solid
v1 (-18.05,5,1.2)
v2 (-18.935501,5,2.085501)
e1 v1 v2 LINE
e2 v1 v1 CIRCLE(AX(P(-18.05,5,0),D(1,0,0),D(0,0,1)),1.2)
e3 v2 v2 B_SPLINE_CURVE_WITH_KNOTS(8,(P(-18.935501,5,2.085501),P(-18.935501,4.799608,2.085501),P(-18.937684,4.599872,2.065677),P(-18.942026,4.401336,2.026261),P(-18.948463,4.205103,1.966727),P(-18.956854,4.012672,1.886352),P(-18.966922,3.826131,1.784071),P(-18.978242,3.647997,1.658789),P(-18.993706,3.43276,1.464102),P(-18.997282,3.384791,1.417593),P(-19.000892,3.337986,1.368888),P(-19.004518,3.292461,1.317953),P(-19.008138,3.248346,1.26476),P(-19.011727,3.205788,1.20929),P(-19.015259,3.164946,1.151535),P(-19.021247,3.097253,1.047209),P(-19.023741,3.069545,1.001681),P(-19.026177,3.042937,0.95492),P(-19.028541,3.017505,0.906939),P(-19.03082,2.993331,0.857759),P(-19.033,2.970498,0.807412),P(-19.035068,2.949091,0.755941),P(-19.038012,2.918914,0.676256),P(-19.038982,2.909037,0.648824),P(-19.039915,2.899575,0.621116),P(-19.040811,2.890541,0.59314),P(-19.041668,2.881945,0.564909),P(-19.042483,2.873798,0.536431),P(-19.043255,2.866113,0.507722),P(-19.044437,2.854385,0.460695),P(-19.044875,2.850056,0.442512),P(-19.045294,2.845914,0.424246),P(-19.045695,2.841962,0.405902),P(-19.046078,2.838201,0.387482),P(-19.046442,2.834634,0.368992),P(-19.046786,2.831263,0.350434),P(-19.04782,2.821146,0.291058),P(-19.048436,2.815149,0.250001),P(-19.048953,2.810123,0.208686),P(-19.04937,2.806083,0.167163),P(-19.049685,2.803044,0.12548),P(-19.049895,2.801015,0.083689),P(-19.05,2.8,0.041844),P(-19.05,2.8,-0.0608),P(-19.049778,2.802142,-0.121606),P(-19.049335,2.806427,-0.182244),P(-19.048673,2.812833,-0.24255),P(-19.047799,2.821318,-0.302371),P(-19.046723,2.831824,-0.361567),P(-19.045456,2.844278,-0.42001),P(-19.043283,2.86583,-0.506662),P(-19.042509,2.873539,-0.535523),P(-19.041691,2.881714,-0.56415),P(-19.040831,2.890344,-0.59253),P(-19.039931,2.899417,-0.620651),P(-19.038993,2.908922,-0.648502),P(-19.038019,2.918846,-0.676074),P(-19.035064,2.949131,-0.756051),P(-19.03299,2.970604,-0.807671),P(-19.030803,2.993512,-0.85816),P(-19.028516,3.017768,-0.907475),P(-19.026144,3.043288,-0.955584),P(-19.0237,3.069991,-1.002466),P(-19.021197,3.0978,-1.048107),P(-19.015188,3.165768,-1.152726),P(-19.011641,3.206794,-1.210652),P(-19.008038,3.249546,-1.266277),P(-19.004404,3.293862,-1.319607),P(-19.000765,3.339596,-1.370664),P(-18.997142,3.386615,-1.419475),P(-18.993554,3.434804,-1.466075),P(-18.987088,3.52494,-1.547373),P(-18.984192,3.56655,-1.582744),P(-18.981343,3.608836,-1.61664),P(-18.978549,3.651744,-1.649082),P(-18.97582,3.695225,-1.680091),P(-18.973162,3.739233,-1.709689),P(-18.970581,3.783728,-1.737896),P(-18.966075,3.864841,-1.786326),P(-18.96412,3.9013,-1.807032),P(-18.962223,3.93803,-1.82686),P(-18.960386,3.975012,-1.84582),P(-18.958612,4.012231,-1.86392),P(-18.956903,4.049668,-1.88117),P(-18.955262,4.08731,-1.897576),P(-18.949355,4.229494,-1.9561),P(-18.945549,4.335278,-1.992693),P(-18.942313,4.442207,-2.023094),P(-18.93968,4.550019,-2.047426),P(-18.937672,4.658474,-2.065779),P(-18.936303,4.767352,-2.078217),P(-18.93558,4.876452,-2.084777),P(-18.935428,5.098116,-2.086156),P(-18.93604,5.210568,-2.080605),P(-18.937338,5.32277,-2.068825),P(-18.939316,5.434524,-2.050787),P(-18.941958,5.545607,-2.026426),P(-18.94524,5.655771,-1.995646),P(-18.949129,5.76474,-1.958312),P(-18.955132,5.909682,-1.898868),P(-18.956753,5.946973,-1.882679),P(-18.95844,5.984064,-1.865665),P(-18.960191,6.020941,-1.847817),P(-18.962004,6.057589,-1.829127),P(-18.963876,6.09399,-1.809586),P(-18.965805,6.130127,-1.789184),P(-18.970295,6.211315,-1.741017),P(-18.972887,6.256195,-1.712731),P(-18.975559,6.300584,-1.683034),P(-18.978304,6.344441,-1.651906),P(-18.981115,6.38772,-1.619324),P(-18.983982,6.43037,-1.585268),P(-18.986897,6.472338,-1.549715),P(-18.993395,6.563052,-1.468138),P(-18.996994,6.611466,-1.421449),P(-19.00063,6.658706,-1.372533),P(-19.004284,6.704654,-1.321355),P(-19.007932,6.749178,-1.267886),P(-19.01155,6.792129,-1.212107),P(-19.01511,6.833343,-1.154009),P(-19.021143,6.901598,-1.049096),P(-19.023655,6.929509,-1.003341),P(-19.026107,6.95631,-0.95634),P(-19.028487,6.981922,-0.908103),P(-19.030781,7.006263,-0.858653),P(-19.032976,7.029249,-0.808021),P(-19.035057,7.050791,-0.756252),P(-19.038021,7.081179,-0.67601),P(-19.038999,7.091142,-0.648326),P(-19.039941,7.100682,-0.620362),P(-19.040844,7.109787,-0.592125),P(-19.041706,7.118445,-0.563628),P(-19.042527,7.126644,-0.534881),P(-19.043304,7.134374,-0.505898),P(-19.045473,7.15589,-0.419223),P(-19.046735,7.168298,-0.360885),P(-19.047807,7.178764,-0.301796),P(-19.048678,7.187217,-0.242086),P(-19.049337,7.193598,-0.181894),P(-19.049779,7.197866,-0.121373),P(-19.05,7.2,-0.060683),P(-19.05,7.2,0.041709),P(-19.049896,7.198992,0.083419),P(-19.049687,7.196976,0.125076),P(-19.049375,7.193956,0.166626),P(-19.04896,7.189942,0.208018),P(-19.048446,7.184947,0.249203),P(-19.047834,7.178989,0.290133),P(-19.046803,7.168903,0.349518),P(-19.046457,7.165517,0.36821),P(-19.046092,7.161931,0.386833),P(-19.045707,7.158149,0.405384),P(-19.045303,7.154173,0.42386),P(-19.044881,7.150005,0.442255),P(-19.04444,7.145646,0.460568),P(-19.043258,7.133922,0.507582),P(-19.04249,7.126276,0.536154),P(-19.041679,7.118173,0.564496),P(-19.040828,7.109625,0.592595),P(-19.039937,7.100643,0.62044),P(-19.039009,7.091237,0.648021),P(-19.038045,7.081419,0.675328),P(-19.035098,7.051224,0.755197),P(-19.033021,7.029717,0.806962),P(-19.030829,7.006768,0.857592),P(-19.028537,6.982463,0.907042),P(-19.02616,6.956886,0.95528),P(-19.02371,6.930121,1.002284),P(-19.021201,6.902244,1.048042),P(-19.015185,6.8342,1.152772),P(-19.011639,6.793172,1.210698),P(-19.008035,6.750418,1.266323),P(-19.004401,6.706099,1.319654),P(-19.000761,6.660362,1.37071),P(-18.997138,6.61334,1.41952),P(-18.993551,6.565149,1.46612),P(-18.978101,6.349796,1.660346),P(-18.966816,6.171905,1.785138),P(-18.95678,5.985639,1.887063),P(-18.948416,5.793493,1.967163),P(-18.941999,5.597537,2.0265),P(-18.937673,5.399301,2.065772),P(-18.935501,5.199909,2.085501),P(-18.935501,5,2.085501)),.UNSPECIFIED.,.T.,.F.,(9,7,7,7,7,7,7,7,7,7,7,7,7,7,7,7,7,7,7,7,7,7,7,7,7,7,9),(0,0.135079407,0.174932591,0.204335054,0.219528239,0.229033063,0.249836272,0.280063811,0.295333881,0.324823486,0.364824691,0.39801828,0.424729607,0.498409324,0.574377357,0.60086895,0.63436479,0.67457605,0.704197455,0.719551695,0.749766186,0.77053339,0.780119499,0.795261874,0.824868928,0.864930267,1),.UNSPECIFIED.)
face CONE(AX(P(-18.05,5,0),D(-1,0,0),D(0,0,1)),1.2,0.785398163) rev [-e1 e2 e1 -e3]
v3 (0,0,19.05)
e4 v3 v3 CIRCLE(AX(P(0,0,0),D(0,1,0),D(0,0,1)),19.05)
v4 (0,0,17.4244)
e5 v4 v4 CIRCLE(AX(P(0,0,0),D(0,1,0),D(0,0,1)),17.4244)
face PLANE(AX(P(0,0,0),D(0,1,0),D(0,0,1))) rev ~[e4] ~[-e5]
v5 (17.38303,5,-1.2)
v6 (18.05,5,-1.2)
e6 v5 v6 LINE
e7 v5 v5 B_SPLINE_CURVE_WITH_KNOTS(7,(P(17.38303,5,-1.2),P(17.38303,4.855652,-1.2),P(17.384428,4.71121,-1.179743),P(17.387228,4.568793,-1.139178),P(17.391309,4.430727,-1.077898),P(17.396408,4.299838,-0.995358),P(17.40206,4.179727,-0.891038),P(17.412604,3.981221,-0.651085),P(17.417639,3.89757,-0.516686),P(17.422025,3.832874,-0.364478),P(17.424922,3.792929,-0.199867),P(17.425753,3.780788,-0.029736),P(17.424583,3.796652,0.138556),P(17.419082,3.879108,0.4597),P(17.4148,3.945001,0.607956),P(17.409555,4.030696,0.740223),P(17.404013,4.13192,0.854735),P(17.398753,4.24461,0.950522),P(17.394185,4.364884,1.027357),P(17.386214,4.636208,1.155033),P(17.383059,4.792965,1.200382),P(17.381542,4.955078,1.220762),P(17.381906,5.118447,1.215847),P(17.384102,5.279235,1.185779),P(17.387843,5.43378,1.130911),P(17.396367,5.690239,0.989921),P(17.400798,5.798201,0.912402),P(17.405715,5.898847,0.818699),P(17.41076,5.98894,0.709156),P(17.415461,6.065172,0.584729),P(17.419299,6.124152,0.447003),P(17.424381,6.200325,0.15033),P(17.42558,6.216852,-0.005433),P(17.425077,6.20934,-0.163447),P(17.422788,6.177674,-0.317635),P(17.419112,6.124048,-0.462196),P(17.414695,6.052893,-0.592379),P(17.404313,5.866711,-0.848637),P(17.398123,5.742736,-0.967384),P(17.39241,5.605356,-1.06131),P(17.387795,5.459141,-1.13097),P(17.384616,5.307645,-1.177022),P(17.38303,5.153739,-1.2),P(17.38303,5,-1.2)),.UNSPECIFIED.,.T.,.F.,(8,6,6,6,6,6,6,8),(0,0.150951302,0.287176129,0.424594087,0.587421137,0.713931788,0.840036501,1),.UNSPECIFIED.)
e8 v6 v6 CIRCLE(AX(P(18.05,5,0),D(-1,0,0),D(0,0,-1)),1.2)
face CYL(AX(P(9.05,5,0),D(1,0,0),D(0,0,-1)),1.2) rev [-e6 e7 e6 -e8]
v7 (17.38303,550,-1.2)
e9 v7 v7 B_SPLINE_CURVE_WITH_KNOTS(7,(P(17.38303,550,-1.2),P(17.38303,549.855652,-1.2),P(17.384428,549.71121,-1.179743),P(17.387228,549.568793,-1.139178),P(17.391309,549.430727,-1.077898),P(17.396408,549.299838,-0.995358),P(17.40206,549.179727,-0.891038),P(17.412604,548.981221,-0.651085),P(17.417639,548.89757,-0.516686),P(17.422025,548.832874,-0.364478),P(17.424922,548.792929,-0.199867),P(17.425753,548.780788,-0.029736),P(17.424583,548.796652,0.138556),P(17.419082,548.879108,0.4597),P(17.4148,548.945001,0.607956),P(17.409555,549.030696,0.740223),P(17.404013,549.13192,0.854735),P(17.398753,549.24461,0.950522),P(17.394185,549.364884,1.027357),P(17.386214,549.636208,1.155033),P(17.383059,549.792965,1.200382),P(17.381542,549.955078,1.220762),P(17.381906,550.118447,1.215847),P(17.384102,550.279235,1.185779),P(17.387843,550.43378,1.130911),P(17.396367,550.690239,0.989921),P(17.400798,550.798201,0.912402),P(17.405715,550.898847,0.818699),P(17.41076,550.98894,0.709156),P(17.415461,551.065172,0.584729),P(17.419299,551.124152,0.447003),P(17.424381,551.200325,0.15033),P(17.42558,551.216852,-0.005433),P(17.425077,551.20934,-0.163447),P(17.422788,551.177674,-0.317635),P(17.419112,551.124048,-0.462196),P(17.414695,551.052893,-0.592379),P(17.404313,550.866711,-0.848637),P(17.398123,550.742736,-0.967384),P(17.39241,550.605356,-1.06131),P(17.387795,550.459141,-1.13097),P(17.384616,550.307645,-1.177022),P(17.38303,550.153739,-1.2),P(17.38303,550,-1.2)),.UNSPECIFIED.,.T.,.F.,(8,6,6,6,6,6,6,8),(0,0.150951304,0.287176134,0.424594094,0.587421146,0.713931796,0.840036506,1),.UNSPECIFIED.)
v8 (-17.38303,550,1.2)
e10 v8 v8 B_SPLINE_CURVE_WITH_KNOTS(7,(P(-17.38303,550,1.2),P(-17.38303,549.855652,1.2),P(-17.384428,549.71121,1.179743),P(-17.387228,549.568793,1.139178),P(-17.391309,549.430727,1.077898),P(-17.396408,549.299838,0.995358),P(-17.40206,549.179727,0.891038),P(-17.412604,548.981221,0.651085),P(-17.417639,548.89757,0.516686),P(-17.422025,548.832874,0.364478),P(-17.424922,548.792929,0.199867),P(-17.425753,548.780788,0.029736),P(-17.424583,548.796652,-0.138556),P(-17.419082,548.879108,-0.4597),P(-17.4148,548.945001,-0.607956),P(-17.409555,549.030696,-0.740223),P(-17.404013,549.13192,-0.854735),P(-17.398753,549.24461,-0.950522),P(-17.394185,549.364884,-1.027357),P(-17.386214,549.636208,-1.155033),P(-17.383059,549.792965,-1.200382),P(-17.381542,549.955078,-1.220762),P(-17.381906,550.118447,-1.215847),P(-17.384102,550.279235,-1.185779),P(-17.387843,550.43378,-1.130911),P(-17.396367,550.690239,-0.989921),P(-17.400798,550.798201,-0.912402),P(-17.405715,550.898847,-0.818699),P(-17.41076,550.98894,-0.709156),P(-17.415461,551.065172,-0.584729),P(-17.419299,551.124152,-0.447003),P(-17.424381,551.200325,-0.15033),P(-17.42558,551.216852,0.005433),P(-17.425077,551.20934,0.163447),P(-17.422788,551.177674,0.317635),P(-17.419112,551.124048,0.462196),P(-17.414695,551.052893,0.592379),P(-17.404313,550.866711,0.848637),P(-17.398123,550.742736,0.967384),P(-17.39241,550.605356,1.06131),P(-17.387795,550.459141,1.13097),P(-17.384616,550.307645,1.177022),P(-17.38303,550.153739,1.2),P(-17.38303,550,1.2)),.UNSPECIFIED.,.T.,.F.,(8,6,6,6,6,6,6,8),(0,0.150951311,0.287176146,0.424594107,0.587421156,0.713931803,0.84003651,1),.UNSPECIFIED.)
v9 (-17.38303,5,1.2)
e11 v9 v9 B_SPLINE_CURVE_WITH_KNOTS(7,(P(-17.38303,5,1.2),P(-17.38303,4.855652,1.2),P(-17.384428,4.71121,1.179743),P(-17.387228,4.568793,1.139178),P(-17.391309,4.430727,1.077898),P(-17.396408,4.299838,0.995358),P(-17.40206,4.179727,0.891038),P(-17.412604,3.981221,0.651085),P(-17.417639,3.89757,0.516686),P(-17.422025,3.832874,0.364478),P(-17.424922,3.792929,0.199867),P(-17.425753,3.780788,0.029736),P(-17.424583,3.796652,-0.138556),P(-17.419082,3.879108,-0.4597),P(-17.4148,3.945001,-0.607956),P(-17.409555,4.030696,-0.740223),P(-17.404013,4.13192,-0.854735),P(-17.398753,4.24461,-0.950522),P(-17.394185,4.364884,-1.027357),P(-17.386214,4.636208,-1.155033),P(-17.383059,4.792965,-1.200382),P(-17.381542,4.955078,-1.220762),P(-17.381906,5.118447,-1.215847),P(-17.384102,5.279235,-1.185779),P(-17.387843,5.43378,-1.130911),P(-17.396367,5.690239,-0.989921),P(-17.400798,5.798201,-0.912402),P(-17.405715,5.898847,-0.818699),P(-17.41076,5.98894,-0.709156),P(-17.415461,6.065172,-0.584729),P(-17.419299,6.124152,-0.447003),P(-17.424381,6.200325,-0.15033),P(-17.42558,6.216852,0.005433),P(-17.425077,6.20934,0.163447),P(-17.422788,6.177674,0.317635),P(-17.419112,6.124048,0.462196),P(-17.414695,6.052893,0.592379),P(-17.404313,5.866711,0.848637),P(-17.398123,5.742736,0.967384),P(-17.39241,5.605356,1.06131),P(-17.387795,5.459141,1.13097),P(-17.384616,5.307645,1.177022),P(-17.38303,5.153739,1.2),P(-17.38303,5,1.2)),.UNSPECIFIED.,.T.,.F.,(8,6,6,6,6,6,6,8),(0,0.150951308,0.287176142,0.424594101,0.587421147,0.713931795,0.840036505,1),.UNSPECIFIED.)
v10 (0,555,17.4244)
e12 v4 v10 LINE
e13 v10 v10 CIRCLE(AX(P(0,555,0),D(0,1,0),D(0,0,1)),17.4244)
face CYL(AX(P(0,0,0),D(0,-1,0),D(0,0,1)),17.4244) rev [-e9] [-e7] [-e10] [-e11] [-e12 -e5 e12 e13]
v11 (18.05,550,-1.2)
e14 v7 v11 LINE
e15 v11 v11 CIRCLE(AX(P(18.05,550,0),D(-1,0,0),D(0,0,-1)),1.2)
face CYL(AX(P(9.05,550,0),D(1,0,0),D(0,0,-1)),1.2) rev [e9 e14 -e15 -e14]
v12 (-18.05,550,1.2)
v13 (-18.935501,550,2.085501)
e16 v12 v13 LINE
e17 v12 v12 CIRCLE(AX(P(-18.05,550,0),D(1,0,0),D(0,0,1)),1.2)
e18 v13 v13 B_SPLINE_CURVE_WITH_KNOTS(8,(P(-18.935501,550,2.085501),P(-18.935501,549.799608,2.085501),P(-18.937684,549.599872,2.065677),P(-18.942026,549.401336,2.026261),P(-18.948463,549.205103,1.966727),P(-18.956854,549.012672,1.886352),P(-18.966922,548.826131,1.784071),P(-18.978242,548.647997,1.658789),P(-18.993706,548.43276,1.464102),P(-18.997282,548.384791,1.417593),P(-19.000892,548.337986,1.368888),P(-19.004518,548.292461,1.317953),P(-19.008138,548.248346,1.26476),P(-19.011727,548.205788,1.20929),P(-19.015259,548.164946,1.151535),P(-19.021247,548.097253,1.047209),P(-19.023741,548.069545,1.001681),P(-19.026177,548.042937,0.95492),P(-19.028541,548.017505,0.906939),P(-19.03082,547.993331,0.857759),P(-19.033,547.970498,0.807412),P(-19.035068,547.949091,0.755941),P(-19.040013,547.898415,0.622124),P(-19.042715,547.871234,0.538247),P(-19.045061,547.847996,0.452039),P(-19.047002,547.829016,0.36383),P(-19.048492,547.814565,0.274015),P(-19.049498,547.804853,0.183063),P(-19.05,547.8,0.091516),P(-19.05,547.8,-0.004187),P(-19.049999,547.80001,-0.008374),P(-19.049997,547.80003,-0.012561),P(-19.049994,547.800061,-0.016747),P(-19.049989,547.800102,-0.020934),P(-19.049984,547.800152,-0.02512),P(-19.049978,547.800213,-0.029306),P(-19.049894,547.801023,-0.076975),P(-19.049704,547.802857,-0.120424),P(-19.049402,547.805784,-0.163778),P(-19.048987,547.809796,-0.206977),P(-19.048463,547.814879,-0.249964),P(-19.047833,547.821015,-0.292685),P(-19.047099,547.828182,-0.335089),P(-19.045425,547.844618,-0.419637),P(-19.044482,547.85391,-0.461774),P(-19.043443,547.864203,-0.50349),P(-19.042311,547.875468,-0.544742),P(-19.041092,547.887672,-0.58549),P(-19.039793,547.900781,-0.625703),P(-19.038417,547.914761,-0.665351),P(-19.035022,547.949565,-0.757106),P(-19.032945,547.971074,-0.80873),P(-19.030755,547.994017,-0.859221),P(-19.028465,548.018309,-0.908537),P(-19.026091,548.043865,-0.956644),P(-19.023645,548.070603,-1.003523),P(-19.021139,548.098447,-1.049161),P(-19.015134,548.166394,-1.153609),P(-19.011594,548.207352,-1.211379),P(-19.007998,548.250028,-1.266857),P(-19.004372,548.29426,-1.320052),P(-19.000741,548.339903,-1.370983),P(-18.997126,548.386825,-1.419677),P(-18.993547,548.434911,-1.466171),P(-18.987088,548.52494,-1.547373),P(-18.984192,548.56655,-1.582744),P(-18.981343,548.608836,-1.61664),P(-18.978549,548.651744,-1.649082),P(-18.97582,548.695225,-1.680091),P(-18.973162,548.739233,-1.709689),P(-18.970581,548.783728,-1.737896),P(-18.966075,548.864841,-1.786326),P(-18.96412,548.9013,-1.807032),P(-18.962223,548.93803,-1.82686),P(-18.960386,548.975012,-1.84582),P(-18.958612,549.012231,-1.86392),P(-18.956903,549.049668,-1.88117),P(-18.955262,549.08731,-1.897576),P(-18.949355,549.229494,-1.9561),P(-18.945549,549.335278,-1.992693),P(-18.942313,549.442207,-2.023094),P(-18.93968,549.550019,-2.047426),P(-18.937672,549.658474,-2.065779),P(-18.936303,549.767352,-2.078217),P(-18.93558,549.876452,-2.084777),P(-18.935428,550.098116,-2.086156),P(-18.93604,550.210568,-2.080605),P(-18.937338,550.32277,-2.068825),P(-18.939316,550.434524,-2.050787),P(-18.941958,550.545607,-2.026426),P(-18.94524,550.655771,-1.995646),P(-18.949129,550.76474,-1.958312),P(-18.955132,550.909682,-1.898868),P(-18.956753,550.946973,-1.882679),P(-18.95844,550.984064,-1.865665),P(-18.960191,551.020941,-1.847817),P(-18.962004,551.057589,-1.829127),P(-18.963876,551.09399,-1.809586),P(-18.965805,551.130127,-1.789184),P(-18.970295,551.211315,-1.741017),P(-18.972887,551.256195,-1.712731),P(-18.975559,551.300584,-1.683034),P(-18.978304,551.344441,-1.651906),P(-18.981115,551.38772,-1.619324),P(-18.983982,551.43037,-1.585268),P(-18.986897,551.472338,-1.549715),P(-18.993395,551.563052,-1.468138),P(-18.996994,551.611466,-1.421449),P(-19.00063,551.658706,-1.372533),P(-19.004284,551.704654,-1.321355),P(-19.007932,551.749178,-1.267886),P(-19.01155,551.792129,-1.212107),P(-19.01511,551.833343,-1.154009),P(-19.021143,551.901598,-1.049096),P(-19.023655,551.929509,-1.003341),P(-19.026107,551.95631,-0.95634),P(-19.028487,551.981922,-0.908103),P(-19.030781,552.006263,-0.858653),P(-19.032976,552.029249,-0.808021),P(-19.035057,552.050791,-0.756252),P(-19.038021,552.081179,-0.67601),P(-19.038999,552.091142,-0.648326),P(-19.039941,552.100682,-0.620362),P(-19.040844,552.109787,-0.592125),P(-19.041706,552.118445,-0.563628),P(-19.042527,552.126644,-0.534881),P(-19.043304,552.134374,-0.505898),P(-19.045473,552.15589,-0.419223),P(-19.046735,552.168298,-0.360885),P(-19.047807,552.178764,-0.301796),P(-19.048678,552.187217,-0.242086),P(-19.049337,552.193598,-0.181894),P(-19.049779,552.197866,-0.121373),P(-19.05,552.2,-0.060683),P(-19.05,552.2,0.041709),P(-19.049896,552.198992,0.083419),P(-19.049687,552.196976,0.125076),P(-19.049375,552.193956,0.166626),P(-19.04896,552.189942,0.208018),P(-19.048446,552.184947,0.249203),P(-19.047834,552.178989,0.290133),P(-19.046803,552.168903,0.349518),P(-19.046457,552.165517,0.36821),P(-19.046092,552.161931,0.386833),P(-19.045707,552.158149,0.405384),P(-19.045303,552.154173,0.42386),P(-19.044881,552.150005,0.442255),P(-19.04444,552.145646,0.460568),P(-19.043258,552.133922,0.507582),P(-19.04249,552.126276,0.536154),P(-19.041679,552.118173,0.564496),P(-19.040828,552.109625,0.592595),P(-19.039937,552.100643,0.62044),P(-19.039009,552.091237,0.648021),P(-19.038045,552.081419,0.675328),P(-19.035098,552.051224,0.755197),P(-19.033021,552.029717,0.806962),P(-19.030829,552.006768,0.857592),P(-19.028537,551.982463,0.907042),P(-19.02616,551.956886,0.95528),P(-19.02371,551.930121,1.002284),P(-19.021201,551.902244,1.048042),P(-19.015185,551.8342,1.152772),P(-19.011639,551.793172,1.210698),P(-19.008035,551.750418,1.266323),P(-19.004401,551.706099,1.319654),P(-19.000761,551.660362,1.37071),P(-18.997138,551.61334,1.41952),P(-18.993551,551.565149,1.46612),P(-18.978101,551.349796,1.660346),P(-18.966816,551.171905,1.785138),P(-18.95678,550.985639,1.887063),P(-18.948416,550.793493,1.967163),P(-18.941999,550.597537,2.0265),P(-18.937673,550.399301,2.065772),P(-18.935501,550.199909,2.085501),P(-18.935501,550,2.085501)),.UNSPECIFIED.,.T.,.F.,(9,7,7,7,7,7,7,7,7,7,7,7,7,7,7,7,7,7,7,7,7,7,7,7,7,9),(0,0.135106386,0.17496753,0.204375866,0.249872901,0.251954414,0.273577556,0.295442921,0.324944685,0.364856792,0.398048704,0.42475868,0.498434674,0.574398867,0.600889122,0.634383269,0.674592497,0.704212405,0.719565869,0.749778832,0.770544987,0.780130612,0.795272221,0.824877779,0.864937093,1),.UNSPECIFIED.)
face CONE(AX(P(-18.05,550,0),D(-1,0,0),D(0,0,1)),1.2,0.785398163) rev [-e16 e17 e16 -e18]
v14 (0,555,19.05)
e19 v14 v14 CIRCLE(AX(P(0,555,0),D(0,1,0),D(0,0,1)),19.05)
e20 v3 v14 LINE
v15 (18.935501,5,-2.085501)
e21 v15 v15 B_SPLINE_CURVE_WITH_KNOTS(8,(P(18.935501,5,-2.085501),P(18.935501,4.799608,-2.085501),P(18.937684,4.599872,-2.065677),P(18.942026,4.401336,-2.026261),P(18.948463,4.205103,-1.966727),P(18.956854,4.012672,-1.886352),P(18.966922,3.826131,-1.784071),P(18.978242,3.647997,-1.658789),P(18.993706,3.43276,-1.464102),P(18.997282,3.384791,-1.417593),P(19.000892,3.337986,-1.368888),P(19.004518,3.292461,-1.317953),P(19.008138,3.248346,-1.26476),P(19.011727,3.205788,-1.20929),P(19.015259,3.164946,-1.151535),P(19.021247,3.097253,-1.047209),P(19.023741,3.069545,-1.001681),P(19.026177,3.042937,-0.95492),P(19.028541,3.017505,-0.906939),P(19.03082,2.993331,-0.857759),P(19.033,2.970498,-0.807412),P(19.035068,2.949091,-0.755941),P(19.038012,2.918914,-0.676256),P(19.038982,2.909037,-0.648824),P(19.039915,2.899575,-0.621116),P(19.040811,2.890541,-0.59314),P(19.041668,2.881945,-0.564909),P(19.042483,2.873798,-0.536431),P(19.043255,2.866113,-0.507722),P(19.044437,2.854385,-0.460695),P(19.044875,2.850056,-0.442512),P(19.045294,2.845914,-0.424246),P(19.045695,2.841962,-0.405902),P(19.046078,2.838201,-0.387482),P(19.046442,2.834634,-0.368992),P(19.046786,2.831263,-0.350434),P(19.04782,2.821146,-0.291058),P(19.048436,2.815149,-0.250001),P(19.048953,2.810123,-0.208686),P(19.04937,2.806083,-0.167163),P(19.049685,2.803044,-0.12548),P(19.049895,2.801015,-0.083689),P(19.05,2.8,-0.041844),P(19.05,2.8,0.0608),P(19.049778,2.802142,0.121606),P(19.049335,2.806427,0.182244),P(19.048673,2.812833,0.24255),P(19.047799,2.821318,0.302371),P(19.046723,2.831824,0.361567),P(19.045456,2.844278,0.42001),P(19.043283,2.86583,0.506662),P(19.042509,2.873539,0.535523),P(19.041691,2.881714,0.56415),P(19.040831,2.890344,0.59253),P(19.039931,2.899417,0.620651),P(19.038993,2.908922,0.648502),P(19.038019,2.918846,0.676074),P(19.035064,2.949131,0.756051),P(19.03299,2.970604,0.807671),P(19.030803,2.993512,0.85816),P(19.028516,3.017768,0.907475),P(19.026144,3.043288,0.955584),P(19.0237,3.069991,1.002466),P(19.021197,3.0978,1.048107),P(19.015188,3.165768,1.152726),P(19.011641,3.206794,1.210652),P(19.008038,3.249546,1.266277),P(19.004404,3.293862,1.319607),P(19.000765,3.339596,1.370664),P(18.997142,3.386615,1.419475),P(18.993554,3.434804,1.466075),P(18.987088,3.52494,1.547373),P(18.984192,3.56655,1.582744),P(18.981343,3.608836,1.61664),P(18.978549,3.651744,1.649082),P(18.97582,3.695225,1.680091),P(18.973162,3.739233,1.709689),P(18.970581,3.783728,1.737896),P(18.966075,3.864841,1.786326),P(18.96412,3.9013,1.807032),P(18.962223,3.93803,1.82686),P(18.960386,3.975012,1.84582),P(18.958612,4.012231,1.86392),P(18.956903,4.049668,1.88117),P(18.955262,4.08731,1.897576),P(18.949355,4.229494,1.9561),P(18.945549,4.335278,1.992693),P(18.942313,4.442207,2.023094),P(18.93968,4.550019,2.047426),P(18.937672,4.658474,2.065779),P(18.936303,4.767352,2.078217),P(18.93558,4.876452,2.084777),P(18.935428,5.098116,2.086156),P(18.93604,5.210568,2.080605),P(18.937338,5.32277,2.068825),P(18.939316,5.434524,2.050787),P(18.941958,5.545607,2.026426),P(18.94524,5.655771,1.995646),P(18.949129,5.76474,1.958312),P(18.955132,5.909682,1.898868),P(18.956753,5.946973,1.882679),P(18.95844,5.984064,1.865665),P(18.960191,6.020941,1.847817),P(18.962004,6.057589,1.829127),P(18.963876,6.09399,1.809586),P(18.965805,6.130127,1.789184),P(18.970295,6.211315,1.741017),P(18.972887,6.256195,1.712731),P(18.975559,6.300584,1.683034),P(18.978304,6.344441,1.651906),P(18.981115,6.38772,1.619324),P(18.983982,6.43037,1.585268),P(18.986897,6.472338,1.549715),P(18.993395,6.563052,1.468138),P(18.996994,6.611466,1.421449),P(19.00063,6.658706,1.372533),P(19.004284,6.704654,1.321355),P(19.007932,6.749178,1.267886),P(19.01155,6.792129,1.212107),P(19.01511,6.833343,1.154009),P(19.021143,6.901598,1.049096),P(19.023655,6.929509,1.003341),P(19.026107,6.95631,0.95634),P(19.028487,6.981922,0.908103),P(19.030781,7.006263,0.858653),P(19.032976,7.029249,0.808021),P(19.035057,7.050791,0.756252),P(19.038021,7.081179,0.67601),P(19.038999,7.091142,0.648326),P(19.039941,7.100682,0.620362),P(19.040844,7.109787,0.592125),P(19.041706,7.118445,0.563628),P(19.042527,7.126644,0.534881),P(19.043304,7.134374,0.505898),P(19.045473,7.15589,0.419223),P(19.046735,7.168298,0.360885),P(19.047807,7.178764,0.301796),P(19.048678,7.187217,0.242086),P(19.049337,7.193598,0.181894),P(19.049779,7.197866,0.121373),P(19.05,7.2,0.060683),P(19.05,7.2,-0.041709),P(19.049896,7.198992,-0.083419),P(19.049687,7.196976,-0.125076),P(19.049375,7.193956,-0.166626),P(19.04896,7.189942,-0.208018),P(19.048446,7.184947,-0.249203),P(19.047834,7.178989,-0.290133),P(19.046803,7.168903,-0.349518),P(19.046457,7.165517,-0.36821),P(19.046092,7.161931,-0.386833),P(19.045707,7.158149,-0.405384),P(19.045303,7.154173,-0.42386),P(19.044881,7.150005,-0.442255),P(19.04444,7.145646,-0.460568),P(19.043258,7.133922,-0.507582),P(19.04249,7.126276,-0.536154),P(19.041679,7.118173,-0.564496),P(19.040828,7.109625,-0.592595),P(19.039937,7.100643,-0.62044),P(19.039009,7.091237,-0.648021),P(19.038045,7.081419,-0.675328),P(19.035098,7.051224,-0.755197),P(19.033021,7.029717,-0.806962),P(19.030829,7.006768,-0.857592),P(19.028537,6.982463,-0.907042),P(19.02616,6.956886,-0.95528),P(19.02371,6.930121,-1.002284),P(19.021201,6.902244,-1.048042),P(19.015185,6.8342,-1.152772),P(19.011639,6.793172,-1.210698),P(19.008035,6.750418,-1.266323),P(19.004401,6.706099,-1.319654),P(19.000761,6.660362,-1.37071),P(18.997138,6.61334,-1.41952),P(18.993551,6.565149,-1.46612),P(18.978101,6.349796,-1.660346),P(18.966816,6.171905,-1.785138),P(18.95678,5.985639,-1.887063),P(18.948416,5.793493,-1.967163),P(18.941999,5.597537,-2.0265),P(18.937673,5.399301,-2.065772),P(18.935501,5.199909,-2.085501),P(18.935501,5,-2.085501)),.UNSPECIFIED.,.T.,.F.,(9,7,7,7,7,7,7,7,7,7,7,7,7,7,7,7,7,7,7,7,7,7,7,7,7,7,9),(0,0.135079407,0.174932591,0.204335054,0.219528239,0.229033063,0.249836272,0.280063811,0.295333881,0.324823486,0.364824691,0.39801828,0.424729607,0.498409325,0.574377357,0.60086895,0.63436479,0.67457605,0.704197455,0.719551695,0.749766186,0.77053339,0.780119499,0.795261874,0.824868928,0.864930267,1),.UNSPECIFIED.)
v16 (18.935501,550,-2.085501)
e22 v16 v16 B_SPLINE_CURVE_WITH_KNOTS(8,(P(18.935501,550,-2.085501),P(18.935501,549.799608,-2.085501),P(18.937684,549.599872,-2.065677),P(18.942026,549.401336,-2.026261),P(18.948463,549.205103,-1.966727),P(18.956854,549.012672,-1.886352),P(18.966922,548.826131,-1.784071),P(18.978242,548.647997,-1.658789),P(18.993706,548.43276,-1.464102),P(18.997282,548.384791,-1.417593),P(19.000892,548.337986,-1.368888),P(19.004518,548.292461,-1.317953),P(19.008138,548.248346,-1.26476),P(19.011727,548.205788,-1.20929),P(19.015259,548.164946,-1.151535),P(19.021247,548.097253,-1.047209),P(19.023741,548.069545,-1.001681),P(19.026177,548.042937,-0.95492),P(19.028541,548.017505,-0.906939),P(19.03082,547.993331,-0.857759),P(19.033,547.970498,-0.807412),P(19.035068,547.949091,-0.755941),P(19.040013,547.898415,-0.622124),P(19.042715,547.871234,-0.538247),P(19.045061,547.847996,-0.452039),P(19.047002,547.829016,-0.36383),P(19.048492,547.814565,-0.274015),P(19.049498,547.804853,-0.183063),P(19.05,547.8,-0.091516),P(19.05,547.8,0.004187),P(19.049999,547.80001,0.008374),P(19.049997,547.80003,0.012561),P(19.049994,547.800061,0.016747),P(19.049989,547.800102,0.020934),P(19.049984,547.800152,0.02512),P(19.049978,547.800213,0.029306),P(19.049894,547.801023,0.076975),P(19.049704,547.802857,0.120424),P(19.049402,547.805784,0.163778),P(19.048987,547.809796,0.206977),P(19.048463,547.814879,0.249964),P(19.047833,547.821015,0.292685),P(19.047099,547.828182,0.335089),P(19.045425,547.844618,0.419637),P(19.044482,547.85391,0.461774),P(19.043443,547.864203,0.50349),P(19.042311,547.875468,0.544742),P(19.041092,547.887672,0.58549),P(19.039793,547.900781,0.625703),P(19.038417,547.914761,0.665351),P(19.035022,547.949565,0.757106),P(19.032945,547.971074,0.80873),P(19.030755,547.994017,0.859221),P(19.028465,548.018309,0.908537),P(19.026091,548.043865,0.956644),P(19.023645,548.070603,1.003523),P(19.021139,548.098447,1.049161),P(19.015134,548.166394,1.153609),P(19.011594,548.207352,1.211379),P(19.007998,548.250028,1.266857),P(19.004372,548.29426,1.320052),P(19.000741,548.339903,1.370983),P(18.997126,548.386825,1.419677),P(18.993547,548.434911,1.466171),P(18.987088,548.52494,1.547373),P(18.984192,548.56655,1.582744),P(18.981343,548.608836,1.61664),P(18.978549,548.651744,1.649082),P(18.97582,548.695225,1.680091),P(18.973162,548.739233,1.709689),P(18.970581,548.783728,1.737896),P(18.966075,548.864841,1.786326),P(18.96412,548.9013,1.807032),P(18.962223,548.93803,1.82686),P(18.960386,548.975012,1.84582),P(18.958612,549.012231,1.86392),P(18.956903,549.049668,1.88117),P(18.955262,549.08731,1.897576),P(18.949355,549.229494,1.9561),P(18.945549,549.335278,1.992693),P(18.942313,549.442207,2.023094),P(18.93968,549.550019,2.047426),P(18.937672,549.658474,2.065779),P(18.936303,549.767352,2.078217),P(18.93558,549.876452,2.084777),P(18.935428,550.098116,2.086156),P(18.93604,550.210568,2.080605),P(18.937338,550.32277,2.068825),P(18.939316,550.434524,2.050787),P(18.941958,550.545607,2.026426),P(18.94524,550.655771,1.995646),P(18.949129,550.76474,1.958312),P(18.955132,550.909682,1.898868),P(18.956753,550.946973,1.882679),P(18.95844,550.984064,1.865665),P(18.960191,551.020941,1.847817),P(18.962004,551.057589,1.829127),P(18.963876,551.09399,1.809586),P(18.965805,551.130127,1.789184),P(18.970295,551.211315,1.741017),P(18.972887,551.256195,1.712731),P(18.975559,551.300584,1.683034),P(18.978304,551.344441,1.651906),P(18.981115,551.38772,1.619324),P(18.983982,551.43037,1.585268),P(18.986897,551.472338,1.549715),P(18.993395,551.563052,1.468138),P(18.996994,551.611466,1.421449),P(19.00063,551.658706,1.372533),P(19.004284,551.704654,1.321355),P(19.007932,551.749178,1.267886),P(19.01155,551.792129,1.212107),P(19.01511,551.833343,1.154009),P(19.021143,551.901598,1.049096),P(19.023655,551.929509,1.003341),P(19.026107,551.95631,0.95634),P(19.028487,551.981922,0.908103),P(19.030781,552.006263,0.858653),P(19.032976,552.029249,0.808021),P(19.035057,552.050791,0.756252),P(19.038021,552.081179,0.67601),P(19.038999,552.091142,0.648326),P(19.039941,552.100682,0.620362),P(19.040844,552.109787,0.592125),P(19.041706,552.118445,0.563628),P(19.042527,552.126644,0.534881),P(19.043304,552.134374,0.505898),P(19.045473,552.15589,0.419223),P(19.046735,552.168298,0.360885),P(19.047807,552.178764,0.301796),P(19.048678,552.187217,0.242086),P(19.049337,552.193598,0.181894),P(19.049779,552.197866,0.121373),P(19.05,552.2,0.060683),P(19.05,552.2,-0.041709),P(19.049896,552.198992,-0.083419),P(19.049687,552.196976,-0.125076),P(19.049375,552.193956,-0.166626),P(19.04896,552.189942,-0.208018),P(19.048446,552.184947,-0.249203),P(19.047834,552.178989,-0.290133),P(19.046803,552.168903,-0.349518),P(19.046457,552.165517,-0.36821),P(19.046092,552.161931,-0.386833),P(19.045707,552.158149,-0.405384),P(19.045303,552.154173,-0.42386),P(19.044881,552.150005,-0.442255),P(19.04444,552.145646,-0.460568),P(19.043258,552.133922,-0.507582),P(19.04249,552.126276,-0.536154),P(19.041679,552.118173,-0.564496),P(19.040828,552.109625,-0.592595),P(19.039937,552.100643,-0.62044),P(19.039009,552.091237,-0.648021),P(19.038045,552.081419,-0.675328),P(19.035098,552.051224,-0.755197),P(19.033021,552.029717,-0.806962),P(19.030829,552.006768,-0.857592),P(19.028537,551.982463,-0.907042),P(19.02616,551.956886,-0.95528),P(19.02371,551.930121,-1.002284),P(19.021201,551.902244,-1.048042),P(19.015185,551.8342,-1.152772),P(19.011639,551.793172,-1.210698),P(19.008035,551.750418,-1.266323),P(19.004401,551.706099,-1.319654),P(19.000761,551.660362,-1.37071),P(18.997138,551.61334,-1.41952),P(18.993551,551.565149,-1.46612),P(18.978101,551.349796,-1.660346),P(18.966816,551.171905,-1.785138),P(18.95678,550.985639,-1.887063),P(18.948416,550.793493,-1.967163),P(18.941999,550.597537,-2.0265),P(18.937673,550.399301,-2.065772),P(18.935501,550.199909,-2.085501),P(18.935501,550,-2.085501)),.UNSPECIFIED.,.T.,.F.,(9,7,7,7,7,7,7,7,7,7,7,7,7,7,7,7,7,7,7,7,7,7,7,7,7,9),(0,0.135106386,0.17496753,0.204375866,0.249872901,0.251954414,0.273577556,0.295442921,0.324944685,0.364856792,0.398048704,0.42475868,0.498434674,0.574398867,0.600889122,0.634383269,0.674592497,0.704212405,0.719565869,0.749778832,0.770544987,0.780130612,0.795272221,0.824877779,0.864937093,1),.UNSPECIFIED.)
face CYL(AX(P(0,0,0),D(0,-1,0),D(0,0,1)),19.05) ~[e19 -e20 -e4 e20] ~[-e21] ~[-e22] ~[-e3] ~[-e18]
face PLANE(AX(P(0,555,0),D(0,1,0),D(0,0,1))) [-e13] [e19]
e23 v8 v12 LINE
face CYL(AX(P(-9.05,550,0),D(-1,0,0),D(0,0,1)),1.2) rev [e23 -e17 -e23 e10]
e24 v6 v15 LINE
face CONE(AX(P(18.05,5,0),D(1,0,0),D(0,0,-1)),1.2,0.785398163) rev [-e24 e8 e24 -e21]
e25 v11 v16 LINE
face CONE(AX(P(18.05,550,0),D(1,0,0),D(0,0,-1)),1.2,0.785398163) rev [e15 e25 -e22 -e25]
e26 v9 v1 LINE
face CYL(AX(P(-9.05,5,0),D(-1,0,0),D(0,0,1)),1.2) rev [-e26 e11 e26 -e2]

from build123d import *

# Parameters (mm, degrees)
SKETCH1_R                                    = 19.05
SKETCH1_R_2                                  = 17.4244
BOSS_EXTRUDE1_DEPTH                          = 555
CSK_FOR_M2_COUNTERSUNK_FLAT_HEAD_SCR_2_COUNT = 2
CSK_FOR_M2_COUNTERSUNK_FLAT_HEAD_SCR_2_PITCH = 545
CIRPATTERN2_COUNT                            = 2


with BuildPart() as part:
    # Sketch1 → Boss-Extrude1 (new body)
    with BuildSketch(Plane(origin=(0, 0, 0), x_dir=(1, 0, 0), z_dir=(0, 1, 0))):
        with Locations(Location((0, 0, 0), (0, 0, 270))):
            Circle(SKETCH1_R)
        with Locations(Location((0, 0, 0), (0, 0, 270))):
            Circle(SKETCH1_R_2, mode=Mode.SUBTRACT)
    extrude(amount=BOSS_EXTRUDE1_DEPTH)

    # Sketch44 → CSK for M2 Countersunk Flat Head Screw10 (revolve, cut)
    with BuildSketch(Plane(origin=(19.05, 5, 0), x_dir=(0, 0, -1), z_dir=(0, 1, 0))):
        Polygon((0, 0), (0, 10.721032743), (1.2, 10), (1.2, 1), (2.2, 0), align=None)
    csk_for_m2_countersunk_flat_head_screw10 = revolve(axis=Axis((25.4, 5, 0), (-1, 0, 0)), mode=Mode.SUBTRACT)

    # CSK for M2 Countersunk Flat Head Scr 2: CSK for M2 Countersunk Flat Head Screw10 ×2
    with Locations(*[(0, i * CSK_FOR_M2_COUNTERSUNK_FLAT_HEAD_SCR_2_PITCH, 0) for i in range(1, CSK_FOR_M2_COUNTERSUNK_FLAT_HEAD_SCR_2_COUNT)]):
        add(csk_for_m2_countersunk_flat_head_screw10, mode=Mode.SUBTRACT)

    # CirPattern2: CSK for M2 Countersunk Flat Head Screw10 ×2 about axis
    cirpattern2_axis = Axis((0, 555, 0), (0, 1, 0))
    for i in range(1, CIRPATTERN2_COUNT):
        add(csk_for_m2_countersunk_flat_head_screw10.rotate(cirpattern2_axis, i * 360 / CIRPATTERN2_COUNT), mode=Mode.SUBTRACT)

    # CirPattern2 copy 1 sketch → CirPattern2 copy 1 (revolve, cut)
    with BuildSketch(Plane(origin=(-19.05, 550, 0), x_dir=(0, 0, 1), z_dir=(0, 1, 0))):
        Polygon((0, 0), (0, 10.721032743), (1.2, 10), (1.2, 1), (2.2, 0), align=None)
    revolve(axis=Axis((-25.4, 550, 0), (1, 0, 0)), mode=Mode.SUBTRACT)


solid = part.part
